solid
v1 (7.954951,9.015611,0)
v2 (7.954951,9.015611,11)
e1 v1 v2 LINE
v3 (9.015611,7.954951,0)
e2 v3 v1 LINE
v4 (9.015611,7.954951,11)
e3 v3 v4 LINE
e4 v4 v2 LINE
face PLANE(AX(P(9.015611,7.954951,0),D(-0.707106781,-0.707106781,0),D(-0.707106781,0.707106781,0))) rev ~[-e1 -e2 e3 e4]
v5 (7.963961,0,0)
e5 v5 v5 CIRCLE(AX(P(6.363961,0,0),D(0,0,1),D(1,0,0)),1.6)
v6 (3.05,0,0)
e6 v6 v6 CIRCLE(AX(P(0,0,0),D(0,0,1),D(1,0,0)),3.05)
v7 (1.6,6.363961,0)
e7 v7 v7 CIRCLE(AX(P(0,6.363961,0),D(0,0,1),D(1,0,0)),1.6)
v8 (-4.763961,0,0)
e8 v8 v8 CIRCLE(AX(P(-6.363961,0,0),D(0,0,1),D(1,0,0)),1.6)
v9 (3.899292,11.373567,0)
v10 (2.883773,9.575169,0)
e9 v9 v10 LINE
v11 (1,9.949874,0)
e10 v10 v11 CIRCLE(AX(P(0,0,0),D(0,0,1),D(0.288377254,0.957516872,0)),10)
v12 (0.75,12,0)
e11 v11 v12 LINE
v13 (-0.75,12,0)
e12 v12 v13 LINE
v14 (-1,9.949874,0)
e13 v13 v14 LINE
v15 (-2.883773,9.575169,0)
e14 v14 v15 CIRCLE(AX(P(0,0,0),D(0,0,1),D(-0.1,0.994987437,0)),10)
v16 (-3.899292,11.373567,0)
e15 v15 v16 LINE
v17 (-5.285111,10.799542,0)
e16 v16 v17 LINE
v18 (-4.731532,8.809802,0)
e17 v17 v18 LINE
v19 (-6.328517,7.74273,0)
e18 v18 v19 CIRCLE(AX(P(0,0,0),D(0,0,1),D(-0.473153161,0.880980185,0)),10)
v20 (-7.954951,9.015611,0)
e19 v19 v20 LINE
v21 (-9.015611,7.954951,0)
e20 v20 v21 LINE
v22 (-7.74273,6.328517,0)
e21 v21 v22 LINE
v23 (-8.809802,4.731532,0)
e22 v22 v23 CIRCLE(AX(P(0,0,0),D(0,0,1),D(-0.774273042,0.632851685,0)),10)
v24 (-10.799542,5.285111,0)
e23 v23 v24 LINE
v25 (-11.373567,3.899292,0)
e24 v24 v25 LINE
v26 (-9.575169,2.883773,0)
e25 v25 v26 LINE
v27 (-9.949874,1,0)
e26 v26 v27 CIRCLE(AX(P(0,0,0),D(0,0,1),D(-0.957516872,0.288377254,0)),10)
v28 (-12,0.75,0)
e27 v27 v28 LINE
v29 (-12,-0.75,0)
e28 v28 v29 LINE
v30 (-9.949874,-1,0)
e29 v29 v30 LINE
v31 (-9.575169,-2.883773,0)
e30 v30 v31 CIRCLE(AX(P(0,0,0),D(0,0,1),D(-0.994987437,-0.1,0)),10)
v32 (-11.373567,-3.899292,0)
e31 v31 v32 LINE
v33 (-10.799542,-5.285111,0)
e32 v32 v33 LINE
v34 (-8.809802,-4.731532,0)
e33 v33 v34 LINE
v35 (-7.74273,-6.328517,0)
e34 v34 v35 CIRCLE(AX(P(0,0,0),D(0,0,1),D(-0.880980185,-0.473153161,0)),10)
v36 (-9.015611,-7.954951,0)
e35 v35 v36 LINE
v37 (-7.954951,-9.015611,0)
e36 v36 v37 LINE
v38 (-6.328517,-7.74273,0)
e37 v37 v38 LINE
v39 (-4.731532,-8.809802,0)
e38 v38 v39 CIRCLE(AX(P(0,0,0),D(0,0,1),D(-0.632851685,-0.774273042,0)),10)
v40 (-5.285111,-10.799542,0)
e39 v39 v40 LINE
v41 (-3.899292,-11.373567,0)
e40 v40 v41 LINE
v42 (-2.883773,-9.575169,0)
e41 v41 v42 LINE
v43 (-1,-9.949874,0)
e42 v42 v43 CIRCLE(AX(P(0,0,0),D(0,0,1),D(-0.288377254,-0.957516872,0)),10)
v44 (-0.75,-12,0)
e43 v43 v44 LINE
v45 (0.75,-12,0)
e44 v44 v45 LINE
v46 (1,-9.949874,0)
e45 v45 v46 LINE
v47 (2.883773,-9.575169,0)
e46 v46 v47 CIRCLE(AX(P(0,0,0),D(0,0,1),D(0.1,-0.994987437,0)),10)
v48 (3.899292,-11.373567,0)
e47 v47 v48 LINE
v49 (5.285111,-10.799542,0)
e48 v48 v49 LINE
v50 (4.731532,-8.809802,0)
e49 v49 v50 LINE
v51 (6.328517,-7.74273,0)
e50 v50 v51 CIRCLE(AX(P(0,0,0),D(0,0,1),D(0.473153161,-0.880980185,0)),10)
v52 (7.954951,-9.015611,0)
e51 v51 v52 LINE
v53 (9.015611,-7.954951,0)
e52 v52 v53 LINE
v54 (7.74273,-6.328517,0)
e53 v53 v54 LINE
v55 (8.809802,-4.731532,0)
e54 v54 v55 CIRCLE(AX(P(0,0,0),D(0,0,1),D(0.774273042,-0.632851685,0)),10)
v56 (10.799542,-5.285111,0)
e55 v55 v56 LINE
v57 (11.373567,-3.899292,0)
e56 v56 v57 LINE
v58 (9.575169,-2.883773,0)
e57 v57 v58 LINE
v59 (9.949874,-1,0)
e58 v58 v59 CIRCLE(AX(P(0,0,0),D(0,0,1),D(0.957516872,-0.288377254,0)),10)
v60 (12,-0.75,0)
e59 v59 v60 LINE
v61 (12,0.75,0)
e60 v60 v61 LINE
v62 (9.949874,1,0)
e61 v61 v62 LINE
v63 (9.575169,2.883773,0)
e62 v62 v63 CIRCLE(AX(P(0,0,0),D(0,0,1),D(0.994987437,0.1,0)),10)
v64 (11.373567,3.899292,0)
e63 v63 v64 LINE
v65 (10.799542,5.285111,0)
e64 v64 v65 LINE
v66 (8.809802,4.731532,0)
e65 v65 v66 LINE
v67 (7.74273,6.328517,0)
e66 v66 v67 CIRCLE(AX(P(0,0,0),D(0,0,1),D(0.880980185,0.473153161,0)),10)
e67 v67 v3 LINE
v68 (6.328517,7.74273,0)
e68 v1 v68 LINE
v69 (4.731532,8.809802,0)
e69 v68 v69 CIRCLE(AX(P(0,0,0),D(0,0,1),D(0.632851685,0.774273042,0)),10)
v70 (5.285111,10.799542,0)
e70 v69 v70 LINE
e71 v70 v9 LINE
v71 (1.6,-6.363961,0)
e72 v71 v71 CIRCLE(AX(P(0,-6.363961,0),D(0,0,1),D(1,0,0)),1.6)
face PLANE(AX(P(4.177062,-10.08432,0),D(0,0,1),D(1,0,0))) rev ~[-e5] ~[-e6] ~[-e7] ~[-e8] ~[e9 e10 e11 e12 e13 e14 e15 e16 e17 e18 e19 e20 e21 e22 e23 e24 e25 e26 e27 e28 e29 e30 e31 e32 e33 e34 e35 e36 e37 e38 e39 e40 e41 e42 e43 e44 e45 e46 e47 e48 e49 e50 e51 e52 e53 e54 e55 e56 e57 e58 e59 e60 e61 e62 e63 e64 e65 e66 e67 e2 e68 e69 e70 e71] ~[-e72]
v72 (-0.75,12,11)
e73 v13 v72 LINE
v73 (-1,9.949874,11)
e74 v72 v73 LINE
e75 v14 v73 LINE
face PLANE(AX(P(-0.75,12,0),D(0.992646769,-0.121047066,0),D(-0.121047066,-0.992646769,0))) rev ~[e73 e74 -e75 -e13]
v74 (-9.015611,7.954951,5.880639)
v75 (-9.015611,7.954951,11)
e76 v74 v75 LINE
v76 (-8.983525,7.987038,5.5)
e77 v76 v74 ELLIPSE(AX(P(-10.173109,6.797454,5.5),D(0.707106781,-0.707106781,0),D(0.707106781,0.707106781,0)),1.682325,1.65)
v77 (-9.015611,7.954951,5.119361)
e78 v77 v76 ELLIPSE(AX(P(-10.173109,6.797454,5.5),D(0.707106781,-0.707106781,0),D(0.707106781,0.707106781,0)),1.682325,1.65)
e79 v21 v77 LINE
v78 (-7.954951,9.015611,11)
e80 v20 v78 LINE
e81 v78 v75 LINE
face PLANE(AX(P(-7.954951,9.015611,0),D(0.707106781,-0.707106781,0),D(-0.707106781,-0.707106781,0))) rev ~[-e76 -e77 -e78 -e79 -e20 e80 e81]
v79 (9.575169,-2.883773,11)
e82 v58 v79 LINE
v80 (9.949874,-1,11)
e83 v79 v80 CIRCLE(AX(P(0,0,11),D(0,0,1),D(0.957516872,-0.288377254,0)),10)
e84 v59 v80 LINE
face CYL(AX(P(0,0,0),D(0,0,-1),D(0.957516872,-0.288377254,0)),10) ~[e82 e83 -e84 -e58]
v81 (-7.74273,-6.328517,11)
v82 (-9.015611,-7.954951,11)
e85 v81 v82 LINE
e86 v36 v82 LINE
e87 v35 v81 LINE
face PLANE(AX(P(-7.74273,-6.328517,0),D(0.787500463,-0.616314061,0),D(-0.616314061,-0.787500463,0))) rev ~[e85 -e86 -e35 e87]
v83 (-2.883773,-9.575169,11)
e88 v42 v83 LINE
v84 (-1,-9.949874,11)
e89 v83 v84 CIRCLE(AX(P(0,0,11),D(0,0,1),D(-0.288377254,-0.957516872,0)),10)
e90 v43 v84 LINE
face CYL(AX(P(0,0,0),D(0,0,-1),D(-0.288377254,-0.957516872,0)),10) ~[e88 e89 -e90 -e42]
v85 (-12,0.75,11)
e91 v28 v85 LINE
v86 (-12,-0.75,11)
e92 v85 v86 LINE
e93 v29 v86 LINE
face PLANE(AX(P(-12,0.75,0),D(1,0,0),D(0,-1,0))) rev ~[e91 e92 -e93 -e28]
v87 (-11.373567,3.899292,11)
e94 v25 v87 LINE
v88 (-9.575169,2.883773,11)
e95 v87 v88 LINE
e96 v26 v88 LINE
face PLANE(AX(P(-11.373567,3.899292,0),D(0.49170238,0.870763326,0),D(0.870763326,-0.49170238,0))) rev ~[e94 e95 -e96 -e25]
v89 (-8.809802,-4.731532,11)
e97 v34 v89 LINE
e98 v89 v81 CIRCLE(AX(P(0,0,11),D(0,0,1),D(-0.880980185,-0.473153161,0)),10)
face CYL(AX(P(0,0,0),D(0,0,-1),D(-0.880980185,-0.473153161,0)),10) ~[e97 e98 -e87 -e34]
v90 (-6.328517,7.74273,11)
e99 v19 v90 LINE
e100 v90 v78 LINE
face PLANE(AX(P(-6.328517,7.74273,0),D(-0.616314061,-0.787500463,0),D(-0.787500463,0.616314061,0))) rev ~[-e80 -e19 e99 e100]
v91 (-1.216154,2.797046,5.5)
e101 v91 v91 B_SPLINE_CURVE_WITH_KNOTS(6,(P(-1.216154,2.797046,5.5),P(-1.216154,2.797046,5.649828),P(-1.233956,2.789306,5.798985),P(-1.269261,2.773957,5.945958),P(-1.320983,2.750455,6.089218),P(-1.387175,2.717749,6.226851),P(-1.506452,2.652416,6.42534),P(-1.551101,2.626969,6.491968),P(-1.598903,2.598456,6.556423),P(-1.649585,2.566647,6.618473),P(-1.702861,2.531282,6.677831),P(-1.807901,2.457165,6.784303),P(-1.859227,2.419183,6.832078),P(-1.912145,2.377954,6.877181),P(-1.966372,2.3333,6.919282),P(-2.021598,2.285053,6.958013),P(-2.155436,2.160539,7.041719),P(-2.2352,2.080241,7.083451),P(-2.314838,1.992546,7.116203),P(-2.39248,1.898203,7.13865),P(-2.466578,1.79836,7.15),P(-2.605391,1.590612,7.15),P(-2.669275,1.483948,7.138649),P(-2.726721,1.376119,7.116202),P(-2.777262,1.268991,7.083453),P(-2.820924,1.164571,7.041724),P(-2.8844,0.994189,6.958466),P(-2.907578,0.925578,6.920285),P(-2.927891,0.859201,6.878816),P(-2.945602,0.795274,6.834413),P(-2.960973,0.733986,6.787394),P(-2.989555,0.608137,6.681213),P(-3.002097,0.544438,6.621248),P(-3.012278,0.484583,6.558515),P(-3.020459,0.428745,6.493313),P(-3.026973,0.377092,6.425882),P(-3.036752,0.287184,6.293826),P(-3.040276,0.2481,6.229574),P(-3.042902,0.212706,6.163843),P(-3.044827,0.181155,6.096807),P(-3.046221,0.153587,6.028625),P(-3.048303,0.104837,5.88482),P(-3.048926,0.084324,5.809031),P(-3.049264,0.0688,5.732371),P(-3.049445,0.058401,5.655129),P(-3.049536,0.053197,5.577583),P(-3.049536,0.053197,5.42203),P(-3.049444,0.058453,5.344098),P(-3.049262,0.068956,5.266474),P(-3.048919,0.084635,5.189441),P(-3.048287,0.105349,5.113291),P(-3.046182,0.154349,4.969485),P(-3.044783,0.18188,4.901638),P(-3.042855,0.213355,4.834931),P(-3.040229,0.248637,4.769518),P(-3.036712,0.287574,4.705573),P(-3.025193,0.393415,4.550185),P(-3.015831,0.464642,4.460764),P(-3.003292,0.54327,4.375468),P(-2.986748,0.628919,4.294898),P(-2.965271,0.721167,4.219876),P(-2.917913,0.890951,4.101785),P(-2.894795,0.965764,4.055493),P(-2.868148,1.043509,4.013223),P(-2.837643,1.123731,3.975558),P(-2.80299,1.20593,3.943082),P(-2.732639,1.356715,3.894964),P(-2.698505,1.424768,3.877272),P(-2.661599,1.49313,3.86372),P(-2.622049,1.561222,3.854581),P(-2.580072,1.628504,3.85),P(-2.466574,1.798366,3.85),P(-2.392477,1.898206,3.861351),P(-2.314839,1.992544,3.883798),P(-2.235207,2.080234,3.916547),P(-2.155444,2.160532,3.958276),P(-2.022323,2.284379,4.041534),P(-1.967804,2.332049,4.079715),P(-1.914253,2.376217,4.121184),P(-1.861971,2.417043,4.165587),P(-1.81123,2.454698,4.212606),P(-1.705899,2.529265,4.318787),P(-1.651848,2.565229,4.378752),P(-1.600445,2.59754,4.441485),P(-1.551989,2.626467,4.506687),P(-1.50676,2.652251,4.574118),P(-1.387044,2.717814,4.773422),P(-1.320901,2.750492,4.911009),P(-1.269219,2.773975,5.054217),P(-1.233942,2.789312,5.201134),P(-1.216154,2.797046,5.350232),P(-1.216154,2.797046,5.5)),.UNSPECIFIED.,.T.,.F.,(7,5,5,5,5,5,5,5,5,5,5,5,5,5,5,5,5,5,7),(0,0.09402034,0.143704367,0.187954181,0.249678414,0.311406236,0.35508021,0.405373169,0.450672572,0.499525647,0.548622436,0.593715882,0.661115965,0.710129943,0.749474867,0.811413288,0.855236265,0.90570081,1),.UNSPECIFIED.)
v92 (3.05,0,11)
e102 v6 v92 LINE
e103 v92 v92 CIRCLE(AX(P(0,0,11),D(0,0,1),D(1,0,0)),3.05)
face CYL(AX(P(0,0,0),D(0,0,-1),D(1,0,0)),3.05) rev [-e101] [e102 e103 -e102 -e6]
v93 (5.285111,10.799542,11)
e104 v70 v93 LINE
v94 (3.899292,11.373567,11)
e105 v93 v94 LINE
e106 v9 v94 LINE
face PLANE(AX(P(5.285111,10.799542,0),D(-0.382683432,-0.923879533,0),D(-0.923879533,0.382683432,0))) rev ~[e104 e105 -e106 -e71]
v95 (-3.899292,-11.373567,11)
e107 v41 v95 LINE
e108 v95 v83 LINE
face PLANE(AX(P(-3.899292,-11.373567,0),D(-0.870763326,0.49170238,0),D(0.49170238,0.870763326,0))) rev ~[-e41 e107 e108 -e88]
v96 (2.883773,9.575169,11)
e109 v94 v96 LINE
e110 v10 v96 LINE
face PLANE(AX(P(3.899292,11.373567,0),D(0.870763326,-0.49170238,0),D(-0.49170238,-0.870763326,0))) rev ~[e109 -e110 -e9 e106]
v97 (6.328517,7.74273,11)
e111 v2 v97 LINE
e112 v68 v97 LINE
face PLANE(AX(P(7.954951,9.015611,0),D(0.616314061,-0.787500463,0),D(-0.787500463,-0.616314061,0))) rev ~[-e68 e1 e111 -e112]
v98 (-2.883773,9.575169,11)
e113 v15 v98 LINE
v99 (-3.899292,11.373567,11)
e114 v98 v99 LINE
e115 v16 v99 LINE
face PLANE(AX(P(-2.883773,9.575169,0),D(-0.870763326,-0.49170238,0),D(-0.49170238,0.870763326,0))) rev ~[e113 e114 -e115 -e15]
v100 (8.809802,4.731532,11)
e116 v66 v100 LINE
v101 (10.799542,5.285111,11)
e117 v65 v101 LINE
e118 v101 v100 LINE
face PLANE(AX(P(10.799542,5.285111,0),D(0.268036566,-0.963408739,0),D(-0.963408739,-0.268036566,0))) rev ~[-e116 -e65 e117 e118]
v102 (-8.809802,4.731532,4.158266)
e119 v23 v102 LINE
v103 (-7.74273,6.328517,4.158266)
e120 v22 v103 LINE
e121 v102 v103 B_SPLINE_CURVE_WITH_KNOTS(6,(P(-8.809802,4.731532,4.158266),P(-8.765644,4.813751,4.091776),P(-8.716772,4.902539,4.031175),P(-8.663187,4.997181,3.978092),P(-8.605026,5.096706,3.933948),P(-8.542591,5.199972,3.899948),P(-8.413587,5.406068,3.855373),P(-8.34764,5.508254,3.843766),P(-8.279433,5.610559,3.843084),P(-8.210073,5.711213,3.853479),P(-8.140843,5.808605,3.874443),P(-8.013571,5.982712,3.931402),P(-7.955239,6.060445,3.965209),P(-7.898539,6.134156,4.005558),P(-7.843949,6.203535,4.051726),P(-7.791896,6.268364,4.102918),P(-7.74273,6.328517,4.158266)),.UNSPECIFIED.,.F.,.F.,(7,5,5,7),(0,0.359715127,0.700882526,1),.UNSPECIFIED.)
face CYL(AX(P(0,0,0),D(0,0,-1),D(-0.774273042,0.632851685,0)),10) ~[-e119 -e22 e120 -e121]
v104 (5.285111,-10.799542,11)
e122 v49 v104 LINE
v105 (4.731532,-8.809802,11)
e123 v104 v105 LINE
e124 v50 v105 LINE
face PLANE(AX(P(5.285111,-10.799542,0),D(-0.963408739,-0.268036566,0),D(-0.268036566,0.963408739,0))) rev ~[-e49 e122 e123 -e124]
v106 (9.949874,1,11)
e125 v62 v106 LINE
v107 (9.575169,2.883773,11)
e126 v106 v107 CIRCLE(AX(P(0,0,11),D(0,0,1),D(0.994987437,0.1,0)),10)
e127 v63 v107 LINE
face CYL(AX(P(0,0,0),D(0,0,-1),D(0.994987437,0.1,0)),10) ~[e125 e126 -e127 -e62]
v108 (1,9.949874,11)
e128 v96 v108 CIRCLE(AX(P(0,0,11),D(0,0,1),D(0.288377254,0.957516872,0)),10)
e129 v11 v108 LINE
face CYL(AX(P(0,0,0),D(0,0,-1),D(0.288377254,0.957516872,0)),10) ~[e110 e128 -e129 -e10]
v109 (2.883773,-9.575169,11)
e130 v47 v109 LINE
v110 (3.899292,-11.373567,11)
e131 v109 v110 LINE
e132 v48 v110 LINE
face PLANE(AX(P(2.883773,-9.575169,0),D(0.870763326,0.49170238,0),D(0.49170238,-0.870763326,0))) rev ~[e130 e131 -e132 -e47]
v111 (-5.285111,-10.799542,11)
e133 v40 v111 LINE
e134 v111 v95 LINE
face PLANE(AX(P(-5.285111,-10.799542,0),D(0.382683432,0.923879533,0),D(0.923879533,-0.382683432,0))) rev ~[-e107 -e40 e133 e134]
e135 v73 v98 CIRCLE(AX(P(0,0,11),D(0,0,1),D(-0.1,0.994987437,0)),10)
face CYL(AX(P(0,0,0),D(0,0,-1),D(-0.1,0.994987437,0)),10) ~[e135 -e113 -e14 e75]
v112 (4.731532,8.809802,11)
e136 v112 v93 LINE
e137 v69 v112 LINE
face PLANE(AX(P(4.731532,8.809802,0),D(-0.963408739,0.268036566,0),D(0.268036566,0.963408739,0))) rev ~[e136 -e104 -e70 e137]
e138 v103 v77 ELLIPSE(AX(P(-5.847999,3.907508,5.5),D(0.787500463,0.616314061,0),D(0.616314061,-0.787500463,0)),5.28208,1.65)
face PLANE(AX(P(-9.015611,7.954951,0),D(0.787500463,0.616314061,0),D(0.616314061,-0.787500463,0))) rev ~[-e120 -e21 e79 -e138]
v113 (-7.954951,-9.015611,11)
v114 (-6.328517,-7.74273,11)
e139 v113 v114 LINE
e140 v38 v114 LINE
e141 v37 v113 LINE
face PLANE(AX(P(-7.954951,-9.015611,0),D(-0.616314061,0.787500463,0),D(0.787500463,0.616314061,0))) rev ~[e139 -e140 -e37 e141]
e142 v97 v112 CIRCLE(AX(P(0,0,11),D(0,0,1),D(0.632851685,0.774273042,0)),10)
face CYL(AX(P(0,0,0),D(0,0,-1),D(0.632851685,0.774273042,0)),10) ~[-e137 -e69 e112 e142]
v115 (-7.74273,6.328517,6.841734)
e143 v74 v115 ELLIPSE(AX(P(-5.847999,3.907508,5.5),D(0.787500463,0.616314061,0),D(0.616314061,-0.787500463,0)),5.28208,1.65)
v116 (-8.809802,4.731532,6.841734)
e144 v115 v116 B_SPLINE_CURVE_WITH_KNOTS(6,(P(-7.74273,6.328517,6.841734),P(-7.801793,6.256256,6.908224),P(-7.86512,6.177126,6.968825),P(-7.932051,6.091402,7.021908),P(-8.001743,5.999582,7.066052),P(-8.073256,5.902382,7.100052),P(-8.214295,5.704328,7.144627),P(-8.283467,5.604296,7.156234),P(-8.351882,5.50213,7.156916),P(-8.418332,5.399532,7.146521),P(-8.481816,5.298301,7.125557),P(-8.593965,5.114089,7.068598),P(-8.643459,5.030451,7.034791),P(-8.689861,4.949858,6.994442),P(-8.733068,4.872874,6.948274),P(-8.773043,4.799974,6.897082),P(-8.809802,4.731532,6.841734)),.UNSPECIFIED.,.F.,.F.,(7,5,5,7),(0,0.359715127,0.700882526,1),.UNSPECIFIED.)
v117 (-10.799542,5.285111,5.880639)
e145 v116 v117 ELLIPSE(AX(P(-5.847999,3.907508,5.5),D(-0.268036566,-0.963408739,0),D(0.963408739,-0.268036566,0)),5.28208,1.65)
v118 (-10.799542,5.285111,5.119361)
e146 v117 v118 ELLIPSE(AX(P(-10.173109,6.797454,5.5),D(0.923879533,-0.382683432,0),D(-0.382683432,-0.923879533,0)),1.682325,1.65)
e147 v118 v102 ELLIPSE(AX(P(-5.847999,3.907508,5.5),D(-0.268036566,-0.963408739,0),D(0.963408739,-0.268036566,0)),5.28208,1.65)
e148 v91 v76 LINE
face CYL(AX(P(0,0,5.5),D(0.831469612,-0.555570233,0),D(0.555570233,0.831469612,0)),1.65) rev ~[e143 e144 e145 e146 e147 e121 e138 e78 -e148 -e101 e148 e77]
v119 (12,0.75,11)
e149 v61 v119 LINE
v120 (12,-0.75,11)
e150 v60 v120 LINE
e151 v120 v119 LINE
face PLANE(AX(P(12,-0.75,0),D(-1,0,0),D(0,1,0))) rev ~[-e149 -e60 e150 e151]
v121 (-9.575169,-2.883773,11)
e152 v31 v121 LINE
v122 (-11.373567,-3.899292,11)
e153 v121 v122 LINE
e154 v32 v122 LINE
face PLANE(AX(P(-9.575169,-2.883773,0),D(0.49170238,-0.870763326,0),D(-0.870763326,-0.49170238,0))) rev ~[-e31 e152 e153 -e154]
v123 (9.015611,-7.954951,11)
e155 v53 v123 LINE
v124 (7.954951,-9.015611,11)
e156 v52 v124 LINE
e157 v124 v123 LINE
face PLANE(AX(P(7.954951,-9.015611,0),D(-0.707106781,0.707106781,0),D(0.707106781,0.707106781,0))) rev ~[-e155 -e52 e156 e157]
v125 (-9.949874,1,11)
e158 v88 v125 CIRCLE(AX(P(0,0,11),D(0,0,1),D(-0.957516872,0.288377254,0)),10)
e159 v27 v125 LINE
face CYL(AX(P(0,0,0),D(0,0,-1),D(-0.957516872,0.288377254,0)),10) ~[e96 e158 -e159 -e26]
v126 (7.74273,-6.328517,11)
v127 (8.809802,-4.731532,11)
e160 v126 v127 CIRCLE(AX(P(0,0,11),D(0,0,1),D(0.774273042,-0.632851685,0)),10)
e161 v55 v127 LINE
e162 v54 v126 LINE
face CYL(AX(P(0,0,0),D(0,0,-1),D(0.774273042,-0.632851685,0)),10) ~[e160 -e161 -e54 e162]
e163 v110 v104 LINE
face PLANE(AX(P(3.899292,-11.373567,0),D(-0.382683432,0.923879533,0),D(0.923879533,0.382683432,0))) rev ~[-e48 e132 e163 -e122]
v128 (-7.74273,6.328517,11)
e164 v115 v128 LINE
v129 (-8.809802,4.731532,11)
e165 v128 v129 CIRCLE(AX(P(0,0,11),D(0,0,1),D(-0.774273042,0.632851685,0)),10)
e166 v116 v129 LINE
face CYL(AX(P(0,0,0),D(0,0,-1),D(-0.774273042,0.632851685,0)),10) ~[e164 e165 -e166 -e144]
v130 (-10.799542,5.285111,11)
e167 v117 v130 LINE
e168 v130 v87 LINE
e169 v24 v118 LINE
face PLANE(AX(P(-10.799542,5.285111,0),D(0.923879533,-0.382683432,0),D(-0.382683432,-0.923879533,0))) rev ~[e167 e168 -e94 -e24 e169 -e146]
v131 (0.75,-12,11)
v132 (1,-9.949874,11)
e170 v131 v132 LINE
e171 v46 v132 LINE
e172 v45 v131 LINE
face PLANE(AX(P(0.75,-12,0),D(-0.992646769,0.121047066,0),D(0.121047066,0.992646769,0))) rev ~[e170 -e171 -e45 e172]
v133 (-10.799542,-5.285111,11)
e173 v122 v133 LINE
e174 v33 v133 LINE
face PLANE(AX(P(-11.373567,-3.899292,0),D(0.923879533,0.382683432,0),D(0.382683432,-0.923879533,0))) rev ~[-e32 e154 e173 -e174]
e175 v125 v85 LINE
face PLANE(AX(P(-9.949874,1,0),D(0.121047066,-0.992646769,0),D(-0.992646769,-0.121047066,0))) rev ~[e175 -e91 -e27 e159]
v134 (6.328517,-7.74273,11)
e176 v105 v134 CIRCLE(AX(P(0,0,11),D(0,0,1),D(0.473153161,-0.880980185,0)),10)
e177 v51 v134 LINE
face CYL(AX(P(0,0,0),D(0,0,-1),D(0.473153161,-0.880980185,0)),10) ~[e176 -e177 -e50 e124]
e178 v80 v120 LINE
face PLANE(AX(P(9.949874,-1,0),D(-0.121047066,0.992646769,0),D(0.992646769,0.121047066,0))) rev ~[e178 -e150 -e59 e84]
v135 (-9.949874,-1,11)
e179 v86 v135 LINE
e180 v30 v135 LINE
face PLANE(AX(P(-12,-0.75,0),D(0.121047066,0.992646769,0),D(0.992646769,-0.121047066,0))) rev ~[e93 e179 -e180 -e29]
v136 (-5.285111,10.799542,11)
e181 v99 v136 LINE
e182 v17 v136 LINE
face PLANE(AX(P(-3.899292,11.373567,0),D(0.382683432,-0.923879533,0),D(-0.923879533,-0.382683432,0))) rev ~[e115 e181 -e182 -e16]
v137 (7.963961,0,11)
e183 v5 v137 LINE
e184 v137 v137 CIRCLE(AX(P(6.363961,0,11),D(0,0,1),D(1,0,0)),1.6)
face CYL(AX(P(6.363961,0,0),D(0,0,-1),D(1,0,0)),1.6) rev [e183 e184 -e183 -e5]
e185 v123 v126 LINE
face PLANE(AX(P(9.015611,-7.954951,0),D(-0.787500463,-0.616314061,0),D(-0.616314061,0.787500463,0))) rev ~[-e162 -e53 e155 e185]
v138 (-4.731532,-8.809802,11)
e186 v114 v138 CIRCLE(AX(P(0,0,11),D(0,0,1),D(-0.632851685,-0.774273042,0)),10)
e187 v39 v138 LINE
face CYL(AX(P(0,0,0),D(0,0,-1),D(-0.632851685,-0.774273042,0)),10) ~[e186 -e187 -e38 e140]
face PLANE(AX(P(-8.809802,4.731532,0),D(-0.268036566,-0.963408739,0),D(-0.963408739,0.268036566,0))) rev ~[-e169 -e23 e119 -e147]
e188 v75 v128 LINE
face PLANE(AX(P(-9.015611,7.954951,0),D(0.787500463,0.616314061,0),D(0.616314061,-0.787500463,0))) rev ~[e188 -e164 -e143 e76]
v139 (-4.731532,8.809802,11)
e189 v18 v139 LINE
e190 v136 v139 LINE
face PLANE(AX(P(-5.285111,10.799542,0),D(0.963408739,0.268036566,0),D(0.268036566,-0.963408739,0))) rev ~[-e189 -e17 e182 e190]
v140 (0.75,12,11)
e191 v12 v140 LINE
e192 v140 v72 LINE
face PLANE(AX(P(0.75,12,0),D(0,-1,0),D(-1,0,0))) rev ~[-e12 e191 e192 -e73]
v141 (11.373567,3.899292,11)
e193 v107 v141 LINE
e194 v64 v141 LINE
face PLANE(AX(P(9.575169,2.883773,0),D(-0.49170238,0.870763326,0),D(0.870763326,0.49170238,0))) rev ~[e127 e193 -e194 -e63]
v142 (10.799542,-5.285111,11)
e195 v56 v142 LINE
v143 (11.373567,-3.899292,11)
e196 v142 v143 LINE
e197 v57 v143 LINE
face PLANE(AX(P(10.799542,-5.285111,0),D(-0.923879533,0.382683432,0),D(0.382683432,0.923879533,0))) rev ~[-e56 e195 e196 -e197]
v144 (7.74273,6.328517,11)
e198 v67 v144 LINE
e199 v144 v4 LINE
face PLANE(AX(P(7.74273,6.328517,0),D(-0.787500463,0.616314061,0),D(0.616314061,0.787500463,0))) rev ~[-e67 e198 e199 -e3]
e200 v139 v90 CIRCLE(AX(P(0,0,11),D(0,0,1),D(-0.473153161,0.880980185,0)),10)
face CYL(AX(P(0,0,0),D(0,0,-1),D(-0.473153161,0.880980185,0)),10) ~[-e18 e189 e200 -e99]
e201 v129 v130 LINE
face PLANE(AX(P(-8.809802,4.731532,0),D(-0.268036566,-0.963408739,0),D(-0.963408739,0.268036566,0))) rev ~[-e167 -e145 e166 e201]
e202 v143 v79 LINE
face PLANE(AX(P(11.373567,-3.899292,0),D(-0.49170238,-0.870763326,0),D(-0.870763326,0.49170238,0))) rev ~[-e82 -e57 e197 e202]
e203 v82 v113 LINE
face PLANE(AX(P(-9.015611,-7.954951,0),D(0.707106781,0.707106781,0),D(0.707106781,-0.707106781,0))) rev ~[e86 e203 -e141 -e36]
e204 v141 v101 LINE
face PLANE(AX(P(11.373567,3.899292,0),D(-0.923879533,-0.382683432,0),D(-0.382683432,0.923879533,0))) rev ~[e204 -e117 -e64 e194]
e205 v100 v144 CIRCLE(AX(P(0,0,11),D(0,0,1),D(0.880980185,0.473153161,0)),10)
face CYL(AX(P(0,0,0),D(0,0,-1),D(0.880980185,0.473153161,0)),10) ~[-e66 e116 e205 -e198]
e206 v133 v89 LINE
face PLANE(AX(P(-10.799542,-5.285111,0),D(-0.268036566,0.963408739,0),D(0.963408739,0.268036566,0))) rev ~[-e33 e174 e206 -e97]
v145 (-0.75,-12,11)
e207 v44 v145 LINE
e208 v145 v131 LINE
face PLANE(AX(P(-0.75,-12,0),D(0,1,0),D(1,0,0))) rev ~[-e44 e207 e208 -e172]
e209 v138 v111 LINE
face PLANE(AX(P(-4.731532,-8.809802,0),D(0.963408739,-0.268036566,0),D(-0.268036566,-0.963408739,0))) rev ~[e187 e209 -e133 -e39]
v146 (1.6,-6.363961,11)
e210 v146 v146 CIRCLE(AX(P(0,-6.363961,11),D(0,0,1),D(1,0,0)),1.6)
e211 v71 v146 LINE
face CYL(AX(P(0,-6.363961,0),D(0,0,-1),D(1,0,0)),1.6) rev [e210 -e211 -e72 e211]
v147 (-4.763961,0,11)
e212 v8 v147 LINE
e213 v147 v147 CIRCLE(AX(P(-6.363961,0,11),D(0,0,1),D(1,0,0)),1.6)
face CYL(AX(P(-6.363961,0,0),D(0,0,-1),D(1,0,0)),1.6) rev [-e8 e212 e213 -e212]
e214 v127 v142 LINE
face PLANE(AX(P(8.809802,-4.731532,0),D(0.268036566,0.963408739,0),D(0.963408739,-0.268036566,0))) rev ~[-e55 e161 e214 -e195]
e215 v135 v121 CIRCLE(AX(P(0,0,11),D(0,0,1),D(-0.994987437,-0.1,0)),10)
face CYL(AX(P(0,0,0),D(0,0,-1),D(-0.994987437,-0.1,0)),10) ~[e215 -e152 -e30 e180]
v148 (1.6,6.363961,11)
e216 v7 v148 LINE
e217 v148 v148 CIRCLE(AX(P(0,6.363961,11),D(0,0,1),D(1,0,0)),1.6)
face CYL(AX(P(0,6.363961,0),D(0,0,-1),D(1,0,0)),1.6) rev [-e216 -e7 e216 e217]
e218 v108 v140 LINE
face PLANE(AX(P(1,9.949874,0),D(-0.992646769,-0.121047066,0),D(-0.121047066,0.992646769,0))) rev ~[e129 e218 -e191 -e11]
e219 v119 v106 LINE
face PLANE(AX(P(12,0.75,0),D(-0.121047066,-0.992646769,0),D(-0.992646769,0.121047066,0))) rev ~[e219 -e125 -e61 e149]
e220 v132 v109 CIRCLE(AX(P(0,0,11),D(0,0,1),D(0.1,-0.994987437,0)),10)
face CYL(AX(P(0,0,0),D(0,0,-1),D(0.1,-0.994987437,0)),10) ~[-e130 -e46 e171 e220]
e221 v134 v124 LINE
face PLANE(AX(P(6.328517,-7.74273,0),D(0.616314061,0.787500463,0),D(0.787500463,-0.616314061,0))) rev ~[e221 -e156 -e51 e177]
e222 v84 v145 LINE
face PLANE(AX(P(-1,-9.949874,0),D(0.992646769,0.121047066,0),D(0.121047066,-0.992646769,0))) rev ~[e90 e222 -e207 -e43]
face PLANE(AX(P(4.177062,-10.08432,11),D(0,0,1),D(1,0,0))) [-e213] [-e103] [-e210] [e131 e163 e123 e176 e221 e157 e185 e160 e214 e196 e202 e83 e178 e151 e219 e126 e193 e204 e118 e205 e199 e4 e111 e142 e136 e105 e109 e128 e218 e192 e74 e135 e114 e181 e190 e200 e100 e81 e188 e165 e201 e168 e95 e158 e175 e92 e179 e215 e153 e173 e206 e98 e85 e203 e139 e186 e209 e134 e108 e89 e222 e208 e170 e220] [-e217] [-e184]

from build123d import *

# Parameters (mm, degrees)
SKETCH_1_R          = 1.6
SKETCH_1_R_2        = 3.05
EXTRUDE_1_DEPTH     = 11
SKETCH_2_R          = 1.65
CUT_EXTRUDE_3_DEPTH = 21.223748416


with BuildPart() as part:
    # ｽｹｯﾁ1 → ﾎﾞｽ - 押し出し1 (new body)
    with BuildSketch(Plane.XY):
        with BuildLine():
            Line((-0.75, 12), (-1, 9.949874371))
            ThreePointArc((-1, 9.949874371), (-1.95090322, 9.807852804), (-2.883772543, 9.575168715))
            Line((-2.883772543, 9.575168715), (-3.899291539, 11.373566964))
            Line((-3.899291539, 11.373566964), (-5.285110838, 10.799541816))
            Line((-5.285110838, 10.799541816), (-4.731531608, 8.80980185))
            ThreePointArc((-4.731531608, 8.80980185), (-5.55570233, 8.314696123), (-6.328516859, 7.742730421))
            Line((-6.328516859, 7.742730421), (-7.954951288, 9.01561146))
            Line((-7.954951288, 9.01561146), (-9.01561146, 7.954951288))
            Line((-9.01561146, 7.954951288), (-7.742730421, 6.328516859))
            ThreePointArc((-7.742730421, 6.328516859), (-8.314696123, 5.55570233), (-8.80980185, 4.731531608))
            Line((-8.80980185, 4.731531608), (-10.799541816, 5.285110838))
            Line((-10.799541816, 5.285110838), (-11.373566964, 3.899291539))
            Line((-11.373566964, 3.899291539), (-9.575168715, 2.883772543))
            ThreePointArc((-9.575168715, 2.883772543), (-9.807852804, 1.95090322), (-9.949874371, 1))
            Line((-9.949874371, 1), (-12, 0.75))
            Line((-12, 0.75), (-12, -0.75))
            Line((-12, -0.75), (-9.949874371, -1))
            ThreePointArc((-9.949874371, -1), (-9.807852804, -1.95090322), (-9.575168715, -2.883772543))
            Line((-9.575168715, -2.883772543), (-11.373566964, -3.899291539))
            Line((-11.373566964, -3.899291539), (-10.799541816, -5.285110838))
            Line((-10.799541816, -5.285110838), (-8.80980185, -4.731531608))
            ThreePointArc((-8.80980185, -4.731531608), (-8.314696123, -5.55570233), (-7.742730421, -6.328516859))
            Line((-7.742730421, -6.328516859), (-9.01561146, -7.954951288))
            Line((-9.01561146, -7.954951288), (-7.954951288, -9.01561146))
            Line((-7.954951288, -9.01561146), (-6.328516859, -7.742730421))
            ThreePointArc((-6.328516859, -7.742730421), (-5.55570233, -8.314696123), (-4.731531608, -8.80980185))
            Line((-4.731531608, -8.80980185), (-5.285110838, -10.799541816))
            Line((-5.285110838, -10.799541816), (-3.899291539, -11.373566964))
            Line((-3.899291539, -11.373566964), (-2.883772543, -9.575168715))
            ThreePointArc((-2.883772543, -9.575168715), (-1.95090322, -9.807852804), (-1, -9.949874371))
            Line((-1, -9.949874371), (-0.75, -12))
            Line((-0.75, -12), (0.75, -12))
            Line((0.75, -12), (1, -9.949874371))
            ThreePointArc((1, -9.949874371), (1.95090322, -9.807852804), (2.883772543, -9.575168715))
            Line((2.883772543, -9.575168715), (3.899291539, -11.373566964))
            Line((3.899291539, -11.373566964), (5.285110838, -10.799541816))
            Line((5.285110838, -10.799541816), (4.731531608, -8.80980185))
            ThreePointArc((4.731531608, -8.80980185), (5.55570233, -8.314696123), (6.328516859, -7.742730421))
            Line((6.328516859, -7.742730421), (7.954951288, -9.01561146))
            Line((7.954951288, -9.01561146), (9.01561146, -7.954951288))
            Line((9.01561146, -7.954951288), (7.742730421, -6.328516859))
            ThreePointArc((7.742730421, -6.328516859), (8.314696123, -5.55570233), (8.80980185, -4.731531608))
            Line((8.80980185, -4.731531608), (10.799541816, -5.285110838))
            Line((10.799541816, -5.285110838), (11.373566964, -3.899291539))
            Line((11.373566964, -3.899291539), (9.575168715, -2.883772543))
            ThreePointArc((9.575168715, -2.883772543), (9.807852804, -1.95090322), (9.949874371, -1))
            Line((9.949874371, -1), (12, -0.75))
            Line((12, -0.75), (12, 0.75))
            Line((12, 0.75), (9.949874371, 1))
            ThreePointArc((9.949874371, 1), (9.807852804, 1.95090322), (9.575168715, 2.883772543))
            Line((9.575168715, 2.883772543), (11.373566964, 3.899291539))
            Line((11.373566964, 3.899291539), (10.799541816, 5.285110838))
            Line((10.799541816, 5.285110838), (8.80980185, 4.731531608))
            ThreePointArc((8.80980185, 4.731531608), (8.314696123, 5.55570233), (7.742730421, 6.328516859))
            Line((7.742730421, 6.328516859), (9.01561146, 7.954951288))
            Line((9.01561146, 7.954951288), (7.954951288, 9.01561146))
            Line((7.954951288, 9.01561146), (6.328516859, 7.742730421))
            ThreePointArc((6.328516859, 7.742730421), (5.55570233, 8.314696123), (4.731531608, 8.80980185))
            Line((4.731531608, 8.80980185), (5.285110838, 10.799541816))
            Line((5.285110838, 10.799541816), (3.899291539, 11.373566964))
            Line((3.899291539, 11.373566964), (2.883772543, 9.575168715))
            ThreePointArc((2.883772543, 9.575168715), (1.95090322, 9.807852804), (1, 9.949874371))
            Line((1, 9.949874371), (0.75, 12))
            Line((0.75, 12), (-0.75, 12))
        make_face()
        with Locations((0, 6.363961031)):
            Circle(SKETCH_1_R, mode=Mode.SUBTRACT)
        with Locations((0, -6.363961031)):
            Circle(SKETCH_1_R, mode=Mode.SUBTRACT)
        with Locations((-6.363961031, 0)):
            Circle(SKETCH_1_R, mode=Mode.SUBTRACT)
        Circle(SKETCH_1_R_2, mode=Mode.SUBTRACT)
        with Locations((6.363961031, 0)):
            Circle(SKETCH_1_R, mode=Mode.SUBTRACT)
    extrude(amount=EXTRUDE_1_DEPTH)

    # ｽｹｯﾁ2 → ｶｯﾄ - 押し出し3 (cut, through all)
    with BuildSketch(Plane(origin=(0, 0, 0), x_dir=(0, 0, -1), z_dir=(0.8314696123025446, -0.5555702330196034, 0))):
        with Locations((-5.5, 0)):
            Circle(SKETCH_2_R)
    extrude(amount=-CUT_EXTRUDE_3_DEPTH, mode=Mode.SUBTRACT)


solid = part.part
